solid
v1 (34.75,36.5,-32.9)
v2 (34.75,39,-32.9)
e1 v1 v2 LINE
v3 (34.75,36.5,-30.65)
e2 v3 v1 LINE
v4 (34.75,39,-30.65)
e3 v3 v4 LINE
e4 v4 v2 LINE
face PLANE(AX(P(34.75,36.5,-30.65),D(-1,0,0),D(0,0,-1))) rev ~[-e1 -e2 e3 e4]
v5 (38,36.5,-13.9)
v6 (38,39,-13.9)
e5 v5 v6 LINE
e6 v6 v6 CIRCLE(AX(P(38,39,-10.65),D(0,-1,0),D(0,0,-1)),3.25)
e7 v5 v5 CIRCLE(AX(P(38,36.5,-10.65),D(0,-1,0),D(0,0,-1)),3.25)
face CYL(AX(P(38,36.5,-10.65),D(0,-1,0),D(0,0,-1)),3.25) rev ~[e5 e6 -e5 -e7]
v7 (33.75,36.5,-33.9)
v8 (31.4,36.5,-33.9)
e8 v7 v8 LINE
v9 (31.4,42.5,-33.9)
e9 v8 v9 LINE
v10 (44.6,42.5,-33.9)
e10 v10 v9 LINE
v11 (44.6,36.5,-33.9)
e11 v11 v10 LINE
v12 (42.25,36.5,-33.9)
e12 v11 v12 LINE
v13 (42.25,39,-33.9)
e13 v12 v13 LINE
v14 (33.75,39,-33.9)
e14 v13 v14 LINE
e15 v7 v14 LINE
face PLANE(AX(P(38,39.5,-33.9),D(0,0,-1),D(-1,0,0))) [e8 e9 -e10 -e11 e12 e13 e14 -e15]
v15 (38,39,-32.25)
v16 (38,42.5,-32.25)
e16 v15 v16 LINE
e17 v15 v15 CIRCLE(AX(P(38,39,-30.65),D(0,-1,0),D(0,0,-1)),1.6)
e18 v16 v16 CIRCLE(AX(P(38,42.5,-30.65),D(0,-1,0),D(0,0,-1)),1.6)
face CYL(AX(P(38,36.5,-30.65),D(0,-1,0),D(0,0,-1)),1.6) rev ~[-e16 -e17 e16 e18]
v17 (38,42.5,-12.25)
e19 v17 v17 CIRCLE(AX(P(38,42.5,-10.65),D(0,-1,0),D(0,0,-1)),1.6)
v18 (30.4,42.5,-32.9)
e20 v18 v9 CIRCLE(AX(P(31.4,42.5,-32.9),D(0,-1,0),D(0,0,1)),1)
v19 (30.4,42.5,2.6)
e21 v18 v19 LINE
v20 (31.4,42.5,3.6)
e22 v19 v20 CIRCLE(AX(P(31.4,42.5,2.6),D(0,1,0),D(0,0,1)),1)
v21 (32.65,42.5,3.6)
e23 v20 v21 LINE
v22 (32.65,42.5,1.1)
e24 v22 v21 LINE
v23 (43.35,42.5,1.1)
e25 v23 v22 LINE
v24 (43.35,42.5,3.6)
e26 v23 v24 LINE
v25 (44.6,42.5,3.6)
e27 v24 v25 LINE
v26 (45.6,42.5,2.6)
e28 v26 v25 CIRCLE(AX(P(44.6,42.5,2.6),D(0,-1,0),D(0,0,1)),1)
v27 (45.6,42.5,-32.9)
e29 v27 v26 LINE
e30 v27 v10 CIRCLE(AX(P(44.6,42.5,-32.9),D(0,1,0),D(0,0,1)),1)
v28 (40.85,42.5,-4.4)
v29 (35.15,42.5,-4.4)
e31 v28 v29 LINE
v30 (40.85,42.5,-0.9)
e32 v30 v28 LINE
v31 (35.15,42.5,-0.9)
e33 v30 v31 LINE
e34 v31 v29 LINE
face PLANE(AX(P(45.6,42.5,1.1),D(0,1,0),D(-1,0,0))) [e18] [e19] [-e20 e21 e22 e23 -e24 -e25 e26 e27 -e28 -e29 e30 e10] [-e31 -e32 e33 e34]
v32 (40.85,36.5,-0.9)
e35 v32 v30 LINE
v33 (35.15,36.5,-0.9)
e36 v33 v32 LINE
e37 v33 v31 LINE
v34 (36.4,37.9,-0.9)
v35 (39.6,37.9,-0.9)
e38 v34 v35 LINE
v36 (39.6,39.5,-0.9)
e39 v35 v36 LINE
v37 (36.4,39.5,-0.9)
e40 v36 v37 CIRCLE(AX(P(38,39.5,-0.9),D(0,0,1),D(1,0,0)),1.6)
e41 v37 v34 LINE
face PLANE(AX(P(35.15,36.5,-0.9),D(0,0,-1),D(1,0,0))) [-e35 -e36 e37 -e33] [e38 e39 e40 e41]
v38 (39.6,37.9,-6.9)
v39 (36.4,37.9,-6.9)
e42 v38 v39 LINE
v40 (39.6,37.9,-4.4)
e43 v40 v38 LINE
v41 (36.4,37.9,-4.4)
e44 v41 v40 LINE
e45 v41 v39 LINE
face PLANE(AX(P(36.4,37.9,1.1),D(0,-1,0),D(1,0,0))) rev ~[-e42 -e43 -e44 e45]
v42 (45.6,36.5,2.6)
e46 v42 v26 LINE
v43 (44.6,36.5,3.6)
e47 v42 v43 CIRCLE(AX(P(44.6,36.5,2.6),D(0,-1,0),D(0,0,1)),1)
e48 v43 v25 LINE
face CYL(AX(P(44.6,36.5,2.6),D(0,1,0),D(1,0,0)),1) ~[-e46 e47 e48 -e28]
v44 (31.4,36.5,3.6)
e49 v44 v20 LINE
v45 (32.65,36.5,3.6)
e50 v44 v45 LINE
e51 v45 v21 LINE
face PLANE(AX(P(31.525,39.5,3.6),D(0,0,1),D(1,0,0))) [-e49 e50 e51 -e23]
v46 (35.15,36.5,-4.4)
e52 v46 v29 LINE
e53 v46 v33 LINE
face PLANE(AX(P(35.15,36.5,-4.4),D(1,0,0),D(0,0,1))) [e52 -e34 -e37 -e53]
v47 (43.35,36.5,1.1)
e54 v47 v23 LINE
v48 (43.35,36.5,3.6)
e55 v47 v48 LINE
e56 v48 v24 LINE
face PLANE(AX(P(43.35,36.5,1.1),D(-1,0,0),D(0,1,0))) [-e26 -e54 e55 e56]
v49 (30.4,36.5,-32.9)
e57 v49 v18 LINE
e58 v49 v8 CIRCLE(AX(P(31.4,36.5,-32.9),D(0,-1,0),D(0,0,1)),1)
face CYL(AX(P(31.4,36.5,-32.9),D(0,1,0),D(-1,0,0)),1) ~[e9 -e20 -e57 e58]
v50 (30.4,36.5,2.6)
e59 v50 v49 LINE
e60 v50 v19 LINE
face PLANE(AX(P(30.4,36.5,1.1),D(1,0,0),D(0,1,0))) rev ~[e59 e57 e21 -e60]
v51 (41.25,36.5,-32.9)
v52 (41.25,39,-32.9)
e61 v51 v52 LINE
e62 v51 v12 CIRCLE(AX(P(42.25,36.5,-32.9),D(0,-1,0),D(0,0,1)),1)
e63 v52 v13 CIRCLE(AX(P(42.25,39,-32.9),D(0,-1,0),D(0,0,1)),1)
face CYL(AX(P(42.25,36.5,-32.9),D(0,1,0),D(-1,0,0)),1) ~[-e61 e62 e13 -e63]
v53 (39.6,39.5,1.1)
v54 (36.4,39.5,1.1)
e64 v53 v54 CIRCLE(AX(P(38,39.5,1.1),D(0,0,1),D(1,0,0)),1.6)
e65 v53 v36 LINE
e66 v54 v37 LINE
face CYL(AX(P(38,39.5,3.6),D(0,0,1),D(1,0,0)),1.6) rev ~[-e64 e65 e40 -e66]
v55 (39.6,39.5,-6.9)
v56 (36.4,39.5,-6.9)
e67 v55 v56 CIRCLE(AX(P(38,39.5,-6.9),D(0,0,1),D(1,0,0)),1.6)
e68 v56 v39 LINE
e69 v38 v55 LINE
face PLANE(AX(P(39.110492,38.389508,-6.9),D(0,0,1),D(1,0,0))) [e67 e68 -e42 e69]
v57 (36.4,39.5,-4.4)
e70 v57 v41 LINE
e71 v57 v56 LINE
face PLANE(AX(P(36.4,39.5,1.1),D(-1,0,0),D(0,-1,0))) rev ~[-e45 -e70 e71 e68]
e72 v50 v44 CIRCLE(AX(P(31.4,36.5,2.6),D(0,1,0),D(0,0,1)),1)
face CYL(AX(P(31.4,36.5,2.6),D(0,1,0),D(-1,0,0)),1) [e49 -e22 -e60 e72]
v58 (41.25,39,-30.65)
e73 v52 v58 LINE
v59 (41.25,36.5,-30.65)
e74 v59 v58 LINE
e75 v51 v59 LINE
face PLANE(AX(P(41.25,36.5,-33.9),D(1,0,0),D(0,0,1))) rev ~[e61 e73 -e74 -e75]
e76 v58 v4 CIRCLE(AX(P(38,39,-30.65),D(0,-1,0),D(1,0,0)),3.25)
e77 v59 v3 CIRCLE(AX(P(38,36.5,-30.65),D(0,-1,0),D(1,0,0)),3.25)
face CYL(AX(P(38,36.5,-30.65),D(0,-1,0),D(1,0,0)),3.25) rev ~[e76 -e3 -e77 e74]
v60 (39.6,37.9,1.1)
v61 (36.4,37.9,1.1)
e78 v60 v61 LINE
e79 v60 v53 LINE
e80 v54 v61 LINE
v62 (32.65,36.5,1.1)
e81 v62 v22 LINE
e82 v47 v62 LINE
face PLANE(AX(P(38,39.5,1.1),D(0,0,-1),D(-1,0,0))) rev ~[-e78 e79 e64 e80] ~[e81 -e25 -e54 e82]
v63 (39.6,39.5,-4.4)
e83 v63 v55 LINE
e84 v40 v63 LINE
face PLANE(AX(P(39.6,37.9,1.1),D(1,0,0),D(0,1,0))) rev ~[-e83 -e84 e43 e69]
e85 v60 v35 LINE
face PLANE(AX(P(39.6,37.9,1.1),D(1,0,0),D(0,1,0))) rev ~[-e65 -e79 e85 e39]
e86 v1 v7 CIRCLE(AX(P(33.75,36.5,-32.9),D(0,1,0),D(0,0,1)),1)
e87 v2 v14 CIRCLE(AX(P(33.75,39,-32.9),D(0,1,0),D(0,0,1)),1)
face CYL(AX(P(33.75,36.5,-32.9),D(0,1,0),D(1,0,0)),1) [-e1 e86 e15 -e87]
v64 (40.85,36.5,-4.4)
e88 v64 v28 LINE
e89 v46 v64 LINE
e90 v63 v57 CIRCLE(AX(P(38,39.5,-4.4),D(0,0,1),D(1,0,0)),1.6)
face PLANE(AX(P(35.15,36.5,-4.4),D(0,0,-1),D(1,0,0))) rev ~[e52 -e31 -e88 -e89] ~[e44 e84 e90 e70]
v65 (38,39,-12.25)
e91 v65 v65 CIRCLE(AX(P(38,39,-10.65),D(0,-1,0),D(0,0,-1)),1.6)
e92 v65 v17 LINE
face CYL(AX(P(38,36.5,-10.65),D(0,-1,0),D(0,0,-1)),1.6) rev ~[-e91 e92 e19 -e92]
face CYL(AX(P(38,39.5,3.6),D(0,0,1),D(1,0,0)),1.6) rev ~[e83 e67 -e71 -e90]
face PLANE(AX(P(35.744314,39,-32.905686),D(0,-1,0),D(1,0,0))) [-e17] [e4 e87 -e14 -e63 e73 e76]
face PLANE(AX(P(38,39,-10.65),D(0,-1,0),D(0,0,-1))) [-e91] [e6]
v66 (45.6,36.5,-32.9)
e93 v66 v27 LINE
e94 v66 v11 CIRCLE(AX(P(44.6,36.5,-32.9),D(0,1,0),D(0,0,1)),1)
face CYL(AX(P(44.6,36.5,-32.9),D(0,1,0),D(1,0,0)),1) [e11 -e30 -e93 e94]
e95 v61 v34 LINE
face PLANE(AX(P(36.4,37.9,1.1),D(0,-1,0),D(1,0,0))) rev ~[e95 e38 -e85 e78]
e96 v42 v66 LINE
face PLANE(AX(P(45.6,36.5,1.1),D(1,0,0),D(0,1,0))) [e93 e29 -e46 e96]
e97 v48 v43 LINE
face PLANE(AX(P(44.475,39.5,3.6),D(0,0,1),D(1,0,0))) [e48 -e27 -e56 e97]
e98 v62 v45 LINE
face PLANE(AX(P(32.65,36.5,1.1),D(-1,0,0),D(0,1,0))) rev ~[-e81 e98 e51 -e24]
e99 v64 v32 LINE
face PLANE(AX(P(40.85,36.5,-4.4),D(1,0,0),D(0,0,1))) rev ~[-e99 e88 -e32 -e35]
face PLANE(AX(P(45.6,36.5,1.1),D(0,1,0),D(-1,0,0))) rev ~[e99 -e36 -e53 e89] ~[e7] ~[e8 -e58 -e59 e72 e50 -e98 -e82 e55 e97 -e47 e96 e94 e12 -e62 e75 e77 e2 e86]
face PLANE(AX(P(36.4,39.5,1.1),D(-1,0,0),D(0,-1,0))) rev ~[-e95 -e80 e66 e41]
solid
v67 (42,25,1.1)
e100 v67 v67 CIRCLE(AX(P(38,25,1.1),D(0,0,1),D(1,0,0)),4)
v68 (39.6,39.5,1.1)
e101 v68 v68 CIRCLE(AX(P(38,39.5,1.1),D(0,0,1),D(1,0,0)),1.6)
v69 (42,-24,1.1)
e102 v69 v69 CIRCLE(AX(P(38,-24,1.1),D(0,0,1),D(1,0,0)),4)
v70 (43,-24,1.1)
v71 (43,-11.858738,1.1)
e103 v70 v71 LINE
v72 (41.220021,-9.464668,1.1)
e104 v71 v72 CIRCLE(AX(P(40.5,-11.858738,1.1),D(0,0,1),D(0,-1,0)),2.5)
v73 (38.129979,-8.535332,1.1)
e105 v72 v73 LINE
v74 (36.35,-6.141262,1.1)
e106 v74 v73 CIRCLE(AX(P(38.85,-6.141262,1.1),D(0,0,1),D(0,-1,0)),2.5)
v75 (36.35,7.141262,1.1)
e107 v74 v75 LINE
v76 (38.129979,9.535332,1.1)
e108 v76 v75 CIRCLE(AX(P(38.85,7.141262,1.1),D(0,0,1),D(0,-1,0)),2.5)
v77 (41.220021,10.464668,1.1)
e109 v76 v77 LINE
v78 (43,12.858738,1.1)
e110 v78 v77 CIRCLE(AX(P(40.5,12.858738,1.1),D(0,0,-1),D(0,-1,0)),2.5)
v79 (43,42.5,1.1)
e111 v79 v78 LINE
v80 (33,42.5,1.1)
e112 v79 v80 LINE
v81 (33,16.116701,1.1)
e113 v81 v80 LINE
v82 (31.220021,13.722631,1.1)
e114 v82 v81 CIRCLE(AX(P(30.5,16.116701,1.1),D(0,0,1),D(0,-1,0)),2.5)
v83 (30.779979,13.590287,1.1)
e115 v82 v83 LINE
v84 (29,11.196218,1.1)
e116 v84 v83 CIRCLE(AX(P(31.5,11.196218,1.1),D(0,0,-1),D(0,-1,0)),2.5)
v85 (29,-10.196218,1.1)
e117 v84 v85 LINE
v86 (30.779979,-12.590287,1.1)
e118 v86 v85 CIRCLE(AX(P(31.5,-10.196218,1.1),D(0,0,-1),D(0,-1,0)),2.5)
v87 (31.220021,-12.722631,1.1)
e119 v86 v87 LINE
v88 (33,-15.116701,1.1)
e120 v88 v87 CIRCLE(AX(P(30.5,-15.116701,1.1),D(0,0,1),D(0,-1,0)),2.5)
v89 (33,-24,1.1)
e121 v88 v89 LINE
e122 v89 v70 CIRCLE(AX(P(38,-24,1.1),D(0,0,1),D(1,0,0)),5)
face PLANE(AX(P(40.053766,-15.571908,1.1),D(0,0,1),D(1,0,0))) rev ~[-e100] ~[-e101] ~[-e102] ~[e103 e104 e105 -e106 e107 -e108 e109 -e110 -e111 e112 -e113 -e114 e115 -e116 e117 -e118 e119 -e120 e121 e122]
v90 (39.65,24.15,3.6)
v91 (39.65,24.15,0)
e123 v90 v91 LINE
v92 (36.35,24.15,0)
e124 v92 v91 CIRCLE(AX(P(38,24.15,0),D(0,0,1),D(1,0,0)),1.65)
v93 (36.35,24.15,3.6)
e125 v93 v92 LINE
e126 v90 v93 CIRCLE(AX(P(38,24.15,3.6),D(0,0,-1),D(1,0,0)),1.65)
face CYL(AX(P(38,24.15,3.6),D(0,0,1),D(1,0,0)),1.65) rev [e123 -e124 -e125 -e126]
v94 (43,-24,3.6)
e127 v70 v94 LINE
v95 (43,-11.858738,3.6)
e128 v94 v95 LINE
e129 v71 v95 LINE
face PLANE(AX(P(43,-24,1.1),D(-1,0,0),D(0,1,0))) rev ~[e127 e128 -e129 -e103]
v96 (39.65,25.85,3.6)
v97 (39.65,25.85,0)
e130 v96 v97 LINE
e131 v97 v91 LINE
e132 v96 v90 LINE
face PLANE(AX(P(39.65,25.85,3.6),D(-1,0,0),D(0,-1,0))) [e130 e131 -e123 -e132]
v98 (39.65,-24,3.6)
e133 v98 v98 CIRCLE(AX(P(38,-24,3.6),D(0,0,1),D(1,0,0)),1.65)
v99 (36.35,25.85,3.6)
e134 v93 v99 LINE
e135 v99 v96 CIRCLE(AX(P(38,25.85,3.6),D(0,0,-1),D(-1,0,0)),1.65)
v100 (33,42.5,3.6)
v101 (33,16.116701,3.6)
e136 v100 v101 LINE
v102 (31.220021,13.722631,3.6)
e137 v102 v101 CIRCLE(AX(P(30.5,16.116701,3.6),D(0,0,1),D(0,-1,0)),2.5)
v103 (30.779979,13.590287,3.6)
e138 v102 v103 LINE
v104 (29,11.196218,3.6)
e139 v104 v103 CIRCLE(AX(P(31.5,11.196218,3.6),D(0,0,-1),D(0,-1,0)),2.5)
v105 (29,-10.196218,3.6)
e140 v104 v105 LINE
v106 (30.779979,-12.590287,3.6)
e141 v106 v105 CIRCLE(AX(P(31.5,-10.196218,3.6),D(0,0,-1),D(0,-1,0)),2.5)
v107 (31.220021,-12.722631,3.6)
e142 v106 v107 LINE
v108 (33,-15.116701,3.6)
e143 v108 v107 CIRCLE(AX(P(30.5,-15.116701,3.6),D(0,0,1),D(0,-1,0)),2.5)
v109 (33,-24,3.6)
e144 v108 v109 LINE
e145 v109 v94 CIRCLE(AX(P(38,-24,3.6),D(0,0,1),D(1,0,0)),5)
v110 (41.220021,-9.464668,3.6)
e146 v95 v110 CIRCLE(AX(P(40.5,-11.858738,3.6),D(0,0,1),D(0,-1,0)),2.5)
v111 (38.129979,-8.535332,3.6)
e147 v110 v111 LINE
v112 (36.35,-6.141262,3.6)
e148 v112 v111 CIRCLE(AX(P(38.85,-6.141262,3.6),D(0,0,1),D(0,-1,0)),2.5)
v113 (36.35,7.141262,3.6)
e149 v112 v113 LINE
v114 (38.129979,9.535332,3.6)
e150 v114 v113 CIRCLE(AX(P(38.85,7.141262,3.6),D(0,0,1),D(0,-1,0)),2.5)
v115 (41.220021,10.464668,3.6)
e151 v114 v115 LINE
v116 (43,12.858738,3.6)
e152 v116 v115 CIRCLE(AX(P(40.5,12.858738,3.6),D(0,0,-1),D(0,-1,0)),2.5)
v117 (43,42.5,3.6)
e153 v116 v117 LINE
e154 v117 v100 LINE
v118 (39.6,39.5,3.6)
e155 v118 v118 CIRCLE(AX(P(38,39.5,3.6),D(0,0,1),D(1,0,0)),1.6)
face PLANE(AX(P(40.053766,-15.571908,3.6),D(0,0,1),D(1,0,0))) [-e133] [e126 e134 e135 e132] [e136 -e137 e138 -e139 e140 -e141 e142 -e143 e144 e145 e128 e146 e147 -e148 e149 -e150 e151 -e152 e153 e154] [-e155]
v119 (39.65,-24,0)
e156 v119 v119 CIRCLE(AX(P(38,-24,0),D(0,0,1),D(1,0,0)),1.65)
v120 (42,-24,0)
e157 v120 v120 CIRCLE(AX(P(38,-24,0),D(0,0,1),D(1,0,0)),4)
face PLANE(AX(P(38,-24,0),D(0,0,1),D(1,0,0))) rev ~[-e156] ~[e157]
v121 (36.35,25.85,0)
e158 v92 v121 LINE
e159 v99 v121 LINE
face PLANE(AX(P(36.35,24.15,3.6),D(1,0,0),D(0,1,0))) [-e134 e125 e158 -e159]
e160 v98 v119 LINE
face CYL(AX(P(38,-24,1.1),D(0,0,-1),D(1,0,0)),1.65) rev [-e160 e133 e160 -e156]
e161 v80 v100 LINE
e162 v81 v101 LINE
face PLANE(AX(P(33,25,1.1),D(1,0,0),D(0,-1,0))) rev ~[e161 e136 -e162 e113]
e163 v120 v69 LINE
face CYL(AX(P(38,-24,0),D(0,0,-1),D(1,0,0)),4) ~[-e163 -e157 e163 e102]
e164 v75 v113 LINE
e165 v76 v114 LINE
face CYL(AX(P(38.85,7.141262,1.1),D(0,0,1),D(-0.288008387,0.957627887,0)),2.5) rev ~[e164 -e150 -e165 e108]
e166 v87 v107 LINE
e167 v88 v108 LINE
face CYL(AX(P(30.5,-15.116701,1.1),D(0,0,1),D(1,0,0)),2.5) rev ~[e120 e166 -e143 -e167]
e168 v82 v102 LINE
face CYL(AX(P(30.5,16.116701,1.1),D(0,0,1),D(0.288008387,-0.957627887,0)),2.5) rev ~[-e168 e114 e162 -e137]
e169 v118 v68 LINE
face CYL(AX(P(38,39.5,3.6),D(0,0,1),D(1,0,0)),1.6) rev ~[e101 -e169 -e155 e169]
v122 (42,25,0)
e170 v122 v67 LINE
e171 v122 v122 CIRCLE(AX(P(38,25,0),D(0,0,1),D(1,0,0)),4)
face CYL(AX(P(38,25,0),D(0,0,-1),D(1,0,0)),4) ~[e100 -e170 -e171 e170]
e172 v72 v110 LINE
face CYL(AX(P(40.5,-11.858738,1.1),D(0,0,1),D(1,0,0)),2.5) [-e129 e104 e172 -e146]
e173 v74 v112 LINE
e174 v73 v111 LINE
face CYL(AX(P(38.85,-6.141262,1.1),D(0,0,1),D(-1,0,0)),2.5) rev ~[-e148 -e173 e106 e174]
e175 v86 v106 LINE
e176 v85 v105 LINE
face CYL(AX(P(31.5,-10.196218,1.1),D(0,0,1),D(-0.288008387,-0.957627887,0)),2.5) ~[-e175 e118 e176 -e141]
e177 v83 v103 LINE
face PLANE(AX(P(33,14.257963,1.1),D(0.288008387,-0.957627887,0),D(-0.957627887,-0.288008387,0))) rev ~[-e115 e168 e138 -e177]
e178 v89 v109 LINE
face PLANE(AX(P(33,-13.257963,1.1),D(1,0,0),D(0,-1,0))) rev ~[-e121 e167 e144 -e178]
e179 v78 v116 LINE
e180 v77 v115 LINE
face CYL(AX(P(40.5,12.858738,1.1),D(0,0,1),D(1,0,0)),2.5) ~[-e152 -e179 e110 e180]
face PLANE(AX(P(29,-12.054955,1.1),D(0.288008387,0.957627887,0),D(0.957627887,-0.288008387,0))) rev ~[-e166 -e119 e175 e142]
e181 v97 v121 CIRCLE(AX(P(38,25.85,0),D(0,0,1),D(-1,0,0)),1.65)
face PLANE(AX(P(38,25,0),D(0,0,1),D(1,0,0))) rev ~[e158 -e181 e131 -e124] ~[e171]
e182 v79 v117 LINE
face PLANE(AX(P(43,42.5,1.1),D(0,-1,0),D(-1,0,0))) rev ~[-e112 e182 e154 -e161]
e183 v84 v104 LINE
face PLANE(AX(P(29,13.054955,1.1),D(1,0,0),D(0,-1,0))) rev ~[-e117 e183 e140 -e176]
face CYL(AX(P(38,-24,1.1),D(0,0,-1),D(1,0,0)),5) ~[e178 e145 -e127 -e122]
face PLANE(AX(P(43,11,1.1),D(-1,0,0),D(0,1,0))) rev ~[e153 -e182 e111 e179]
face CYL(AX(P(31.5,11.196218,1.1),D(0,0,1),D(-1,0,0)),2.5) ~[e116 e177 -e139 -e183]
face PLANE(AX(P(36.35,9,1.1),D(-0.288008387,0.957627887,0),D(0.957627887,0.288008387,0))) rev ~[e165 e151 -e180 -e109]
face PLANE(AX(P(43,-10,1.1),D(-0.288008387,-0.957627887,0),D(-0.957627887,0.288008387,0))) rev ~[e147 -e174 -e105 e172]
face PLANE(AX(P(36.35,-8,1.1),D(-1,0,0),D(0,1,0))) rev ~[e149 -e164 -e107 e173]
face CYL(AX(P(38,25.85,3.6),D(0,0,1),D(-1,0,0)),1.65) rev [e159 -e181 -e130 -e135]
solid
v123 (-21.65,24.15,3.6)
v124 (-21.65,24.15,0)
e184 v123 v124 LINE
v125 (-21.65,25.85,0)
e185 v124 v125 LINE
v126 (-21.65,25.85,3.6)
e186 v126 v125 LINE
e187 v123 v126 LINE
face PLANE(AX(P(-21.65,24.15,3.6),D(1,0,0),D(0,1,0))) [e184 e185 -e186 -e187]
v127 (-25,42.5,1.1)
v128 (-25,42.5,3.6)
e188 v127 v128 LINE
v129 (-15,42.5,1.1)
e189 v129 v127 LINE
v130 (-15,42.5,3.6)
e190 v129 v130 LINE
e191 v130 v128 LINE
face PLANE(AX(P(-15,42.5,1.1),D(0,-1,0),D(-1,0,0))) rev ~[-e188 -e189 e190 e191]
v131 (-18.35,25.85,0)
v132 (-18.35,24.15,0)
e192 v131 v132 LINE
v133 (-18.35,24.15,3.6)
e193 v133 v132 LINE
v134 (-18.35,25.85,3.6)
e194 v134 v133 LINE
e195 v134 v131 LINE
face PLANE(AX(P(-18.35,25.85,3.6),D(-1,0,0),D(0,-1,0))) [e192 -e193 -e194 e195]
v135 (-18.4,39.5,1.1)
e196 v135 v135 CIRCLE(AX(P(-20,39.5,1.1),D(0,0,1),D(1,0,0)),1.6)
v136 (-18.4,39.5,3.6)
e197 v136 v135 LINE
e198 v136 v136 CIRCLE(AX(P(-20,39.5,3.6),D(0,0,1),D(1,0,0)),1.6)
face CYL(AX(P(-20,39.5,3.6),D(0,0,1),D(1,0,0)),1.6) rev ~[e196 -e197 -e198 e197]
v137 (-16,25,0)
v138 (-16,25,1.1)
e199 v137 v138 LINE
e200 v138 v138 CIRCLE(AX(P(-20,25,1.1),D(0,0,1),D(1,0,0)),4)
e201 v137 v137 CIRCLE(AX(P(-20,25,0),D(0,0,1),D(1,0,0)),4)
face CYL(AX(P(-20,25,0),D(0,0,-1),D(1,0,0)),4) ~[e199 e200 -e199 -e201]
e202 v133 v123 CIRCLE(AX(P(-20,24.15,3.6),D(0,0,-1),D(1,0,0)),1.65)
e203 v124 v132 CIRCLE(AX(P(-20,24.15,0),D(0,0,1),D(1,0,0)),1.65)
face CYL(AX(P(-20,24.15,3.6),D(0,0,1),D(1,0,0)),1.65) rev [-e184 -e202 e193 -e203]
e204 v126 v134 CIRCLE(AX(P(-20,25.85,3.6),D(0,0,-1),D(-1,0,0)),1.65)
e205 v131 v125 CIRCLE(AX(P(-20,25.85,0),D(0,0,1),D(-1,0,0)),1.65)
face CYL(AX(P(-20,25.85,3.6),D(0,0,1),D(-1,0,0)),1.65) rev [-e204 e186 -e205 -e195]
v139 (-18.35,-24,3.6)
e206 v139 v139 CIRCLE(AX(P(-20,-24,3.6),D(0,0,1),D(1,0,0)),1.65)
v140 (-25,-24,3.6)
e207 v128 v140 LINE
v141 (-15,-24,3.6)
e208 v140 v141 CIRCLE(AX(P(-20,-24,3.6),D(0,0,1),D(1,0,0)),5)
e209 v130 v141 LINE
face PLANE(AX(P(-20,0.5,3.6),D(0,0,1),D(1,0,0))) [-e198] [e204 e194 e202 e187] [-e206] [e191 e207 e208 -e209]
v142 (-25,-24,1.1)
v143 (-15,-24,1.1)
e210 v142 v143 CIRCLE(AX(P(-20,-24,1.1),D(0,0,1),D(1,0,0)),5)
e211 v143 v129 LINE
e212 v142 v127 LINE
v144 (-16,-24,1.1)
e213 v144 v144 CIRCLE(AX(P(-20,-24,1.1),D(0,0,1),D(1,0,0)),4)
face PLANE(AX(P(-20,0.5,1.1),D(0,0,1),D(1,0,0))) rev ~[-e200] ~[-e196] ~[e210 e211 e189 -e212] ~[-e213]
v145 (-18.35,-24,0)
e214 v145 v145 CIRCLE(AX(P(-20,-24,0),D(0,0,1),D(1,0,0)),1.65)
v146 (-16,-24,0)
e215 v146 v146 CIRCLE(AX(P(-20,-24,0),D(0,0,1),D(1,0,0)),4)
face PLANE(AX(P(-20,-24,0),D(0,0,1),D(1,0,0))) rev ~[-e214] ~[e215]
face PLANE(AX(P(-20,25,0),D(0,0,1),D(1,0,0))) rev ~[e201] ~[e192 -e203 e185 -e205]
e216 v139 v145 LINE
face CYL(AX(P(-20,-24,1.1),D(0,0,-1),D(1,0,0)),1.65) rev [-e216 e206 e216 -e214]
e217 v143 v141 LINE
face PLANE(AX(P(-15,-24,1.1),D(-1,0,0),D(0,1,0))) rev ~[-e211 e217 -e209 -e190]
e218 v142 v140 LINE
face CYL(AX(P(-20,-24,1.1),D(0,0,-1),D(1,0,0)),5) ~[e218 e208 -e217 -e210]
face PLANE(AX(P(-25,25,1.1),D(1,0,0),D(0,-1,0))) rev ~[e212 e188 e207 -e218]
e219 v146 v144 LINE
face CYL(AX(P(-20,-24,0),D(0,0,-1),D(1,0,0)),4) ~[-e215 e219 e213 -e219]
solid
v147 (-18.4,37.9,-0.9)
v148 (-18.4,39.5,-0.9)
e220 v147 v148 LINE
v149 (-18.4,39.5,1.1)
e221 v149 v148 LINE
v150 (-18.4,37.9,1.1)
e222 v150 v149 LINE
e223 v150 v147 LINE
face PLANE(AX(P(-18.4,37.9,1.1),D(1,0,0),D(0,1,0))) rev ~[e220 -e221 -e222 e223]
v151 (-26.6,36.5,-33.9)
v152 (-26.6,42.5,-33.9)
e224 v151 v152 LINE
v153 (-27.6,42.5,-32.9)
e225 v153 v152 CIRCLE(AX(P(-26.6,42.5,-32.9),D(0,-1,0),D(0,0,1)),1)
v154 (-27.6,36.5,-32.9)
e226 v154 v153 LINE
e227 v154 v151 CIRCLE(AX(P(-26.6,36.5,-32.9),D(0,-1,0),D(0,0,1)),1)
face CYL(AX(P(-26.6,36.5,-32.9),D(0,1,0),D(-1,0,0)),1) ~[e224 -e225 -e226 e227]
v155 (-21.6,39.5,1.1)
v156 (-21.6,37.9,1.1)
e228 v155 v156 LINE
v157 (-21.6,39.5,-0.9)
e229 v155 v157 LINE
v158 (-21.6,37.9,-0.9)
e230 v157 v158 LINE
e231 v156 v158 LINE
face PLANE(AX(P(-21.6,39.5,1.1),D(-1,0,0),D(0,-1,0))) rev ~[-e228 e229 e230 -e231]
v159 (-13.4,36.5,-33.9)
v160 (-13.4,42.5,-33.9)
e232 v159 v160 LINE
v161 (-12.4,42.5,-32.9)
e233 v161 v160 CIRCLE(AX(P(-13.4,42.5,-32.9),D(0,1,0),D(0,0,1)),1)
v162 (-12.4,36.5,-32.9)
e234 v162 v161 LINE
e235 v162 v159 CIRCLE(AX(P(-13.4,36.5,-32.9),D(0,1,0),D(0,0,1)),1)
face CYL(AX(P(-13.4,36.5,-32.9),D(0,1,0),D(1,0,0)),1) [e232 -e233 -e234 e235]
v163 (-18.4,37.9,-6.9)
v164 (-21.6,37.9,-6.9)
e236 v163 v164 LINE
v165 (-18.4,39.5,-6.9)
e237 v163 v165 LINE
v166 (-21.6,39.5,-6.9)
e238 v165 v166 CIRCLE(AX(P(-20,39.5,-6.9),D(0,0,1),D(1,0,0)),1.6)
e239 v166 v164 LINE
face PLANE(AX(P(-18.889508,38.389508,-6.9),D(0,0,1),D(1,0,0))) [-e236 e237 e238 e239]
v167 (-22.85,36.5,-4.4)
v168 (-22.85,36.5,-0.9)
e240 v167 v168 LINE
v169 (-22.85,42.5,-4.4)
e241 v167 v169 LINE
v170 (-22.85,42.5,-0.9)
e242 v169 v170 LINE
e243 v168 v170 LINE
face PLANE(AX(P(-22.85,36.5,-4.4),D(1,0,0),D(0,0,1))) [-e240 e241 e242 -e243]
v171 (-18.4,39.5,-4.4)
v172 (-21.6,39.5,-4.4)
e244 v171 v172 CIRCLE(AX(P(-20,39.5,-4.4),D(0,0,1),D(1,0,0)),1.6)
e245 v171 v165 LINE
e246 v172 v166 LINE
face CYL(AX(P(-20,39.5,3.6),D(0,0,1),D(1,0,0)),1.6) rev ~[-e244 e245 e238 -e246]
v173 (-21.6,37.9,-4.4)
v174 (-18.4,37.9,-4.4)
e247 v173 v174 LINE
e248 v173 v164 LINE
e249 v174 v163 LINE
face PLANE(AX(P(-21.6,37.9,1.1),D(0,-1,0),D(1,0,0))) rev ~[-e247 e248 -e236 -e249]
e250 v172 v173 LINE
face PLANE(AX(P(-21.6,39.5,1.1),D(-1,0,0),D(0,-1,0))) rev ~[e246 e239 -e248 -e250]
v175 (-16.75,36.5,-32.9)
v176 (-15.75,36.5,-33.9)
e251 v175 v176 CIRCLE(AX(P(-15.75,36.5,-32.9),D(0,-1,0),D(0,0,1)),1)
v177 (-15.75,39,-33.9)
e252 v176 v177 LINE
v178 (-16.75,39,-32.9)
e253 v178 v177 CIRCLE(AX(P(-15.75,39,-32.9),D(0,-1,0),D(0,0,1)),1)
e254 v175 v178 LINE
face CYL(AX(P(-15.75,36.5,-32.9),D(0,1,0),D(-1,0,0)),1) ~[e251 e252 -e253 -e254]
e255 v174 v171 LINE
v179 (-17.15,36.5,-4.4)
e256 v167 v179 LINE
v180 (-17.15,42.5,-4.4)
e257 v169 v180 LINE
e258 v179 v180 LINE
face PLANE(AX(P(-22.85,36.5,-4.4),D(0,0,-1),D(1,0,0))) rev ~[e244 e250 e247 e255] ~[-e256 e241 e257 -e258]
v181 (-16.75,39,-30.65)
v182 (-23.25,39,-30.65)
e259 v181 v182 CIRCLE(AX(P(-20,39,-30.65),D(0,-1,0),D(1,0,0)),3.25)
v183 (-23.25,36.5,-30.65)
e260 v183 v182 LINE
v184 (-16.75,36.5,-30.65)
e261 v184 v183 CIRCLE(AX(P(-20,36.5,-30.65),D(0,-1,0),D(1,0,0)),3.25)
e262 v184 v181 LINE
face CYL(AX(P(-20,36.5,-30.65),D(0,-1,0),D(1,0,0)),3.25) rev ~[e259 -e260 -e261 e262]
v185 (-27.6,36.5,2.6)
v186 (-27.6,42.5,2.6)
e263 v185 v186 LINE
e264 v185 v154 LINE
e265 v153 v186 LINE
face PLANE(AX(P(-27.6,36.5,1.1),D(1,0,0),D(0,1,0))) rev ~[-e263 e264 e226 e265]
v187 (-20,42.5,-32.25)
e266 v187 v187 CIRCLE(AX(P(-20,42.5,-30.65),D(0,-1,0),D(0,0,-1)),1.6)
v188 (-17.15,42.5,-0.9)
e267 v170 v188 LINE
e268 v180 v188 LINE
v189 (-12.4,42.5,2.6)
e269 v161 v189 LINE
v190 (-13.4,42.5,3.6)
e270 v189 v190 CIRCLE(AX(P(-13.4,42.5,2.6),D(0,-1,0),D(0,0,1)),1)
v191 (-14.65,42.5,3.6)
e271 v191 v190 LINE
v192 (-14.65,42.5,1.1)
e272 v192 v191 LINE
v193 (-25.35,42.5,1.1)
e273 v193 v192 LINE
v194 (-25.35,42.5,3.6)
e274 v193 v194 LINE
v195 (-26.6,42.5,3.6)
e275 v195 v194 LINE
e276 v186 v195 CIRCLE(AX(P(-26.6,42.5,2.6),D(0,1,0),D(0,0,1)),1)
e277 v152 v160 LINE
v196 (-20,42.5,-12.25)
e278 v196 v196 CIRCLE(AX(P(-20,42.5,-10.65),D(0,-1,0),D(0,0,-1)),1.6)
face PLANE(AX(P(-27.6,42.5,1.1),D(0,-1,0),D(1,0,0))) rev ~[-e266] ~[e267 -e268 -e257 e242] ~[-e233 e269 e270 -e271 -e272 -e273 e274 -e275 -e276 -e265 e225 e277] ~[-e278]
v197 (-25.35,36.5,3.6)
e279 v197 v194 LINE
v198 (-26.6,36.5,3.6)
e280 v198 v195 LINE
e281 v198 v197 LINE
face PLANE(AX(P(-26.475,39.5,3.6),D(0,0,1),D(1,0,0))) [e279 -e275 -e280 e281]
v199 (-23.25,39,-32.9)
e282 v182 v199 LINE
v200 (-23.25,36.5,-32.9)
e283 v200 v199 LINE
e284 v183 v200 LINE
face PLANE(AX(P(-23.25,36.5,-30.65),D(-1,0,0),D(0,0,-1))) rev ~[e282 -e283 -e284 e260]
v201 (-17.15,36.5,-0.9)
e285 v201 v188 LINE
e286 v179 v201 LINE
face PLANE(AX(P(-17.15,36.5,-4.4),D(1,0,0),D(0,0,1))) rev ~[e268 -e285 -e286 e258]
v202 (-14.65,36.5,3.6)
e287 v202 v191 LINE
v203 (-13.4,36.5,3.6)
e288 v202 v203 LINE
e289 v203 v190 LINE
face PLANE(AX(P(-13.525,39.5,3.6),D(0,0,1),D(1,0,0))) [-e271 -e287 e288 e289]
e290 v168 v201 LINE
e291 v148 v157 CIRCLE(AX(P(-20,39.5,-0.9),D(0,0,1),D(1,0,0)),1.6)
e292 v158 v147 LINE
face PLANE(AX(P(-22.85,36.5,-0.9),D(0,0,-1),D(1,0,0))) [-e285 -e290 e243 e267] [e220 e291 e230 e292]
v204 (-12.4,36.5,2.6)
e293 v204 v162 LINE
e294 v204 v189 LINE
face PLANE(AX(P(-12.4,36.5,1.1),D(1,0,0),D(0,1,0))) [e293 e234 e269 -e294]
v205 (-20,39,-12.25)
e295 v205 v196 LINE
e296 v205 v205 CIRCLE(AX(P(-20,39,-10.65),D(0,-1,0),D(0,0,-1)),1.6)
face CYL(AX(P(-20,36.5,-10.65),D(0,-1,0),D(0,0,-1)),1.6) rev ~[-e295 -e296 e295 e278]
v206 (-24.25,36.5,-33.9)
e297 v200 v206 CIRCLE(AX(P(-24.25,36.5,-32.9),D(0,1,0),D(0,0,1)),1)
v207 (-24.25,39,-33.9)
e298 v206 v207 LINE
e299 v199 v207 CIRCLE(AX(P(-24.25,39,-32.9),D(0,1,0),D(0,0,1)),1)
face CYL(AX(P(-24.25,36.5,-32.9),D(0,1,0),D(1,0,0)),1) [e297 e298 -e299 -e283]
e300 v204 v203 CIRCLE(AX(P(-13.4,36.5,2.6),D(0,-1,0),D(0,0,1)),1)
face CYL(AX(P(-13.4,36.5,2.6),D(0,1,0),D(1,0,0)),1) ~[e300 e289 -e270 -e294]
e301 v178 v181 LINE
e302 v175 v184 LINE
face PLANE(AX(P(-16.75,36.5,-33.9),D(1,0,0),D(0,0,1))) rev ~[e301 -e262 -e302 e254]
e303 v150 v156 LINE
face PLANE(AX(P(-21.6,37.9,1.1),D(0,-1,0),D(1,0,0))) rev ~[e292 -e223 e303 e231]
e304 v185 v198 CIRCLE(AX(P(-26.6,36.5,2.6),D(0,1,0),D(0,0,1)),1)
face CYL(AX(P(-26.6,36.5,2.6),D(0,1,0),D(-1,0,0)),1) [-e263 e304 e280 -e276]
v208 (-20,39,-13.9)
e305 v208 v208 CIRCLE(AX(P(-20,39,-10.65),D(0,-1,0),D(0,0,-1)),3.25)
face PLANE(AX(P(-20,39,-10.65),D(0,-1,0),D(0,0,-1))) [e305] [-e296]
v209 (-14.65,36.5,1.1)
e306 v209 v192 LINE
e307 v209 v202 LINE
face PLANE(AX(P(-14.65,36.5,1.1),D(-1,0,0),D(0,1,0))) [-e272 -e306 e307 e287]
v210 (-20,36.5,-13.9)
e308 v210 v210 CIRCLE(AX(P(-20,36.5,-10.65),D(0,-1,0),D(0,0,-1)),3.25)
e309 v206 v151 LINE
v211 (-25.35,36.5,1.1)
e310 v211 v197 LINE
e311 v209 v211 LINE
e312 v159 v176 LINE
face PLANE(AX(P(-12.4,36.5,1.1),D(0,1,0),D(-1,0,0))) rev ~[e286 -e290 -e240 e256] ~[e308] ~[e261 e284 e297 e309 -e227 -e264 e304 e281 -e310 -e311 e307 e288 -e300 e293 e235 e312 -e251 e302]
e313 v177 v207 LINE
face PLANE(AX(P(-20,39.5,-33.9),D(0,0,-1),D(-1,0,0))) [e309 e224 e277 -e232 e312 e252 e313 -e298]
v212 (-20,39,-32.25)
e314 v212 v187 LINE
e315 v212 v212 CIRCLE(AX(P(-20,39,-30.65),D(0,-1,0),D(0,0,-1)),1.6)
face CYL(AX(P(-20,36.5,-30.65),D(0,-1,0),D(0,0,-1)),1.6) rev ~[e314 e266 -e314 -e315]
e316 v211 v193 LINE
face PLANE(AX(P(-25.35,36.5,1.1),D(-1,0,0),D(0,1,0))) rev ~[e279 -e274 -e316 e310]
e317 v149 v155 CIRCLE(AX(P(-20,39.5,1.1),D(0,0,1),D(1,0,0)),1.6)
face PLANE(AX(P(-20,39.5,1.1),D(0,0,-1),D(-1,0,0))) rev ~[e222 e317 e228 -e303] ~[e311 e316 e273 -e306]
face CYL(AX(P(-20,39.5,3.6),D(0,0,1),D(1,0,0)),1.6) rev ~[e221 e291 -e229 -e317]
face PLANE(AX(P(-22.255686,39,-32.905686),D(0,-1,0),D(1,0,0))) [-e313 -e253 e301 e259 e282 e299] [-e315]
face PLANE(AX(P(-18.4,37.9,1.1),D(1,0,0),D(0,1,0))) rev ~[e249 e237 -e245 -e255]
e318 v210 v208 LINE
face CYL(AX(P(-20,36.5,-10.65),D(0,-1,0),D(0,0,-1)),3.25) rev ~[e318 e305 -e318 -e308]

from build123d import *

# Parameters (mm, degrees)
SKETCH2_R             = 4
SKETCH2_R_2           = 1.65
BOSS_EXTRUDE1_DEPTH   = 1.1
BOSS_EXTRUDE1_2_DEPTH = 1.1
BOSS_EXTRUDE1_3_DEPTH = 1.1
BOSS_EXTRUDE1_4_DEPTH = 1.1
SKETCH3_R             = 5
SKETCH3_R_2           = 1.65
BOSS_EXTRUDE2_DEPTH   = 2.5
BOSS_EXTRUDE3_START   = -2.5
BOSS_EXTRUDE3_DEPTH   = 2.5
FILLET1_R             = 2.5
SKETCH6_W             = 15.2
SKETCH6_H             = 6
SKETCH6_W_2           = 10
SKETCH6_W_3           = 2.6
BOSS_EXTRUDE4_DEPTH   = 35
CUT_EXTRUDE1_DEPTH    = 73.745171661
SKETCH8_R             = 1.6
CUT_EXTRUDE2_DEPTH    = 10.5
SKETCH9_W             = 2.25
SKETCH9_H             = 6
BOSS_EXTRUDE5_DEPTH   = 2.5
BOSS_EXTRUDE5_2_DEPTH = 2.5
BOSS_EXTRUDE5_3_DEPTH = 2.5
BOSS_EXTRUDE5_4_DEPTH = 2.5
SKETCH10_R            = 1.6
CUT_EXTRUDE4_DEPTH    = 8
SKETCH11_W            = 5.7
SKETCH11_H            = 3.5
SKETCH11_R            = 1.6
CUT_EXTRUDE5_DEPTH    = 87.71112962
SKETCH11_3_R          = 3.25
SKETCH11_3_R_2        = 1.6
CUT_EXTRUDE6_DEPTH    = 2.5
FILLET2_R             = 1
FILLET3_R             = 1


with BuildPart() as part:
    # Sketch2 → Boss-Extrude1 (new body)
    with BuildSketch(Plane.XY):
        with Locations((-20, 25)):
            Circle(SKETCH2_R)
        with Locations((-20, 25)):
            Circle(SKETCH2_R_2, mode=Mode.SUBTRACT)
    extrude(amount=BOSS_EXTRUDE1_DEPTH)



with BuildPart() as body_2:
    # Sketch2 → Boss-Extrude1 2 (new body)
    with BuildSketch(Plane.XY):
        with Locations((38, 25)):
            Circle(SKETCH2_R)
        with Locations((38, 25)):
            Circle(SKETCH2_R_2, mode=Mode.SUBTRACT)
    extrude(amount=BOSS_EXTRUDE1_2_DEPTH)


with BuildPart() as body_3:
    # Sketch2 → Boss-Extrude1 3 (new body)
    with BuildSketch(Plane.XY):
        with Locations((38, -24)):
            Circle(SKETCH2_R)
        with Locations((38, -24)):
            Circle(SKETCH2_R_2, mode=Mode.SUBTRACT)
    extrude(amount=BOSS_EXTRUDE1_3_DEPTH)


with BuildPart() as body_4:
    # Sketch2 → Boss-Extrude1 4 (new body)
    with BuildSketch(Plane.XY):
        with Locations((-20, -24)):
            Circle(SKETCH2_R)
        with Locations((-20, -24)):
            Circle(SKETCH2_R_2, mode=Mode.SUBTRACT)
    extrude(amount=BOSS_EXTRUDE1_4_DEPTH)


with BuildPart() as part_1:
    add(part.part)

    add(body_2.part)  # Boss-Extrude2 merges body 2

    add(body_3.part)  # Boss-Extrude2 merges body 3

    add(body_4.part)  # Boss-Extrude2 merges body 4
    # Sketch3 → Boss-Extrude2 (add)
    # profile 1 of 4: a face of its own
    with BuildSketch(Plane.XY.offset(1.1)):
        with Locations((38, 25)):
            Circle(SKETCH3_R)
        with Locations((38, 25)):
            Circle(SKETCH3_R_2, mode=Mode.SUBTRACT)
    # profile 2 of 4: a face of its own
    with BuildSketch(Plane.XY.offset(1.1)):
        with Locations((38, -24)):
            Circle(SKETCH3_R)
        with Locations((38, -24)):
            Circle(SKETCH3_R_2, mode=Mode.SUBTRACT)
    # profile 3 of 4: a face of its own
    with BuildSketch(Plane.XY.offset(1.1)):
        with Locations((-20, -24)):
            Circle(SKETCH3_R)
        with Locations((-20, -24)):
            Circle(SKETCH3_R_2, mode=Mode.SUBTRACT)
    # profile 4 of 4: a face of its own
    with BuildSketch(Plane.XY.offset(1.1)):
        with Locations((-20, 25)):
            Circle(SKETCH3_R)
        with Locations((-20, 25)):
            Circle(SKETCH3_R_2, mode=Mode.SUBTRACT)
    extrude(amount=BOSS_EXTRUDE2_DEPTH)

    # Sketch5 → Boss-Extrude3 (add)
    with BuildSketch(Plane.XY.offset(3.6).offset(BOSS_EXTRUDE3_START)):
        with BuildLine():
            ThreePointArc((-25, -24), (-20, -19), (-15, -24))
            Line((-15, -24), (-15, 25))
            ThreePointArc((-15, 25), (-20, 20), (-25, 25))
            Line((-25, 25), (-25, -24))
        make_face()
        with BuildLine():
            ThreePointArc((-25, 25), (-20, 30), (-15, 25))
            Line((-15, 25), (-15, 42.5))
            Line((-15, 42.5), (-25, 42.5))
            Line((-25, 42.5), (-25, 25))
        make_face()
        with BuildLine():
            ThreePointArc((36.35, -19.28009534), (40.893959226, -19.922623392), (43, -24))
            Line((43, -24), (43, -10))
            Line((43, -10), (36.35, -8))
            Line((36.35, -8), (36.35, -19.28009534))
        make_face()
        with BuildLine():
            Line((33, -13.257962905), (33, -24))
            ThreePointArc((33, -24), (33.922623392, -21.106040774), (36.35, -19.28009534))
            Line((36.35, -19.28009534), (36.35, -8))
            Line((36.35, -8), (36.35, 9))
            Line((36.35, 9), (36.35, 20.28009534))
            ThreePointArc((36.35, 20.28009534), (33.922623392, 22.106040774), (33, 25))
            Line((33, 25), (33, 14.257962905))
            Line((33, 14.257962905), (33, -13.257962905))
        make_face()
        Polygon((29, -12.054955386), (33, -13.257962905), (33, 14.257962905), (29, 13.054955386), align=None)
        with BuildLine():
            Line((36.35, 9), (43, 11))
            Line((43, 11), (43, 25))
            ThreePointArc((43, 25), (40.893959226, 20.922623392), (36.35, 20.28009534))
            Line((36.35, 20.28009534), (36.35, 9))
        make_face()
        with BuildLine():
            ThreePointArc((33, 25), (38, 30), (43, 25))
            Line((43, 25), (43, 42.5))
            Line((43, 42.5), (33, 42.5))
            Line((33, 42.5), (33, 25))
        make_face()
    extrude(amount=BOSS_EXTRUDE3_DEPTH)

    # Fillet1
    fillet1_edges = [part_1.edges().sort_by_distance(p)[0] for p in [
        (43, -10, 2.35),
        (33, -13.257962905, 2.35),
        (29, -12.054955386, 2.35),
        (29, 13.054955386, 2.35),
        (33, 14.257962905, 2.35),
        (43, 11, 2.35),
        (36.35, 9, 2.35),
        (36.35, -8, 2.35),
    ]]
    fillet(fillet1_edges, radius=FILLET1_R)

    # Sketch7 → Cut-Extrude1 (cut, through all)
    with BuildSketch(Plane.XY.offset(3.6)):
        with BuildLine():
            Line((39.65, 25.85), (39.65, 24.15))
            ThreePointArc((39.65, 24.15), (38, 22.5), (36.35, 24.15))
            Line((36.35, 24.15), (36.35, 25.85))
            ThreePointArc((36.35, 25.85), (38, 27.5), (39.65, 25.85))
        make_face()
        with BuildLine():
            Line((-18.35, 25.85), (-18.35, 24.15))
            ThreePointArc((-18.35, 24.15), (-20, 22.5), (-21.65, 24.15))
            Line((-21.65, 24.15), (-21.65, 25.85))
            ThreePointArc((-21.65, 25.85), (-20, 27.5), (-18.35, 25.85))
        make_face()
    extrude(amount=-CUT_EXTRUDE1_DEPTH, mode=Mode.SUBTRACT)


with BuildPart() as body_2_2:
    # Sketch6 → Boss-Extrude4 (new body)
    with BuildSketch(Plane(origin=(0, 0, 1.1), x_dir=(-1, 0, 0), z_dir=(0, 0, -1))):
        with Locations((-38, 39.5)):
            Rectangle(SKETCH6_W, SKETCH6_H)
        with Locations((20, 39.5)):
            Rectangle(SKETCH6_W_2, SKETCH6_H)
        with Locations((13.7, 39.5)):
            Rectangle(SKETCH6_W_3, SKETCH6_H)
        with Locations((26.3, 39.5)):
            Rectangle(SKETCH6_W_3, SKETCH6_H)
    extrude(amount=BOSS_EXTRUDE4_DEPTH)


with BuildPart() as cut_extrude2_tool:
    # Sketch8 → Cut-Extrude2 (new body)
    with BuildSketch(Plane.XY.offset(3.6)):
        with Locations((-20, 39.5)):
            Circle(SKETCH8_R)
        with Locations((38, 39.5)):
            Circle(SKETCH8_R)
    extrude(amount=-CUT_EXTRUDE2_DEPTH)


with BuildPart() as part_2:
    add(part_1.part)

    # Cut-Extrude2: cut by cut_extrude2_tool
    add(cut_extrude2_tool.part, mode=Mode.SUBTRACT)


with BuildPart() as body_2_2_1:
    add(body_2_2.part)

    # Cut-Extrude2: cut by cut_extrude2_tool
    add(cut_extrude2_tool.part, mode=Mode.SUBTRACT)


with BuildPart() as body_3_2:
    # Sketch9 → Boss-Extrude5 (new body)
    with BuildSketch(Plane.XY.offset(1.1)):
        with Locations((44.475, 39.5)):
            Rectangle(SKETCH9_W, SKETCH9_H)
    extrude(amount=BOSS_EXTRUDE5_DEPTH)


with BuildPart() as body_4_2:
    # Sketch9 → Boss-Extrude5 2 (new body)
    with BuildSketch(Plane.XY.offset(1.1)):
        with Locations((31.525, 39.5)):
            Rectangle(SKETCH9_W, SKETCH9_H)
    extrude(amount=BOSS_EXTRUDE5_2_DEPTH)


with BuildPart() as body_5:
    # Sketch9 → Boss-Extrude5 3 (new body)
    with BuildSketch(Plane.XY.offset(1.1)):
        with Locations((-13.525, 39.5)):
            Rectangle(SKETCH9_W, SKETCH9_H)
    extrude(amount=BOSS_EXTRUDE5_3_DEPTH)


with BuildPart() as body_6:
    # Sketch9 → Boss-Extrude5 4 (new body)
    with BuildSketch(Plane.XY.offset(1.1)):
        with Locations((-26.475, 39.5)):
            Rectangle(SKETCH9_W, SKETCH9_H)
    extrude(amount=BOSS_EXTRUDE5_4_DEPTH)


with BuildPart() as body_5_1:
    add(body_5.part)

    # Combine1: union body 6, body 2 2
    add(body_6.part)
    add(body_2_2_1.part)


with BuildPart() as body_3_2_1:
    add(body_3_2.part)

    # Combine2: union body 4 2, body 5
    add(body_4_2.part)
    add(body_5_1.part)

    # Sketch10 → Cut-Extrude4 (cut)
    with BuildSketch(Plane.XY.offset(1.1)):
        with BuildLine():
            Line((39.6, 37.9), (39.6, 39.5))
            ThreePointArc((39.6, 39.5), (39.13137085, 38.36862915), (38, 37.9))
            Line((38, 37.9), (39.6, 37.9))
        make_face()
        with BuildLine():
            ThreePointArc((38, 37.9), (36.86862915, 38.36862915), (36.4, 39.5))
            Line((36.4, 39.5), (36.4, 37.9))
            Line((36.4, 37.9), (38, 37.9))
        make_face()
        with BuildLine():
            Line((-18.4, 37.9), (-18.4, 39.5))
            ThreePointArc((-18.4, 39.5), (-18.86862915, 38.36862915), (-20, 37.9))
            Line((-20, 37.9), (-18.4, 37.9))
        make_face()
        with BuildLine():
            ThreePointArc((-20, 37.9), (-21.13137085, 38.36862915), (-21.6, 39.5))
            Line((-21.6, 39.5), (-21.6, 37.9))
            Line((-21.6, 37.9), (-20, 37.9))
        make_face()
        with Locations((38, 39.5)):
            Circle(SKETCH10_R)
        with Locations((-20, 39.5)):
            Circle(SKETCH10_R)
    extrude(amount=-CUT_EXTRUDE4_DEPTH, mode=Mode.SUBTRACT)

    # Sketch11 → Cut-Extrude5 (cut, through all)
    with BuildSketch(Plane.XZ.offset(-36.5)):
        with Locations((38, -2.65)):
            Rectangle(SKETCH11_W, SKETCH11_H)
        with Locations(Location((38, -10.65, 0), (0, 0, 270))):
            Circle(SKETCH11_R)
        with Locations(Location((38, -30.65, 0), (0, 0, 270))):
            Circle(SKETCH11_R)
        with Locations((-20, -2.65)):
            Rectangle(SKETCH11_W, SKETCH11_H)
        with Locations(Location((-20, -10.65, 0), (0, 0, 270))):
            Circle(SKETCH11_R)
        with Locations(Location((-20, -30.65, 0), (0, 0, 270))):
            Circle(SKETCH11_R)
    extrude(amount=-CUT_EXTRUDE5_DEPTH, mode=Mode.SUBTRACT)

    # Sketch11<3> → Cut-Extrude6 (cut)
    # profile 1 of 8: a face of its own
    with BuildSketch(Plane.XZ.offset(-36.5)):
        with Locations(Location((-20, -10.65, 0), (0, 0, 270))):
            Circle(SKETCH11_3_R)
        with Locations(Location((-20, -10.65, 0), (0, 0, 270))):
            Circle(SKETCH11_3_R_2, mode=Mode.SUBTRACT)
    # profile 2 of 8: a face of its own
    with BuildSketch(Plane.XZ.offset(-36.5)):
        with Locations((-20, -30.65)):
            Circle(SKETCH11_3_R)
        with Locations(Location((-20, -30.65, 0), (0, 0, 270))):
            Circle(SKETCH11_3_R_2, mode=Mode.SUBTRACT)
    # profile 3 of 8: a face of its own
    with BuildSketch(Plane.XZ.offset(-36.5)):
        with BuildLine():
            ThreePointArc((-20, -33.9), (-22.298097039, -32.948097039), (-23.25, -30.65))
            Line((-23.25, -30.65), (-23.25, -33.9))
            Line((-23.25, -33.9), (-20, -33.9))
        make_face()
    # profile 4 of 8: a face of its own
    with BuildSketch(Plane.XZ.offset(-36.5)):
        with BuildLine():
            Line((-16.75, -33.9), (-16.75, -30.65))
            ThreePointArc((-16.75, -30.65), (-17.701902961, -32.948097039), (-20, -33.9))
            Line((-20, -33.9), (-16.75, -33.9))
        make_face()
    # profile 5 of 8: a face of its own
    with BuildSketch(Plane.XZ.offset(-36.5)):
        with Locations(Location((38, -10.65, 0), (0, 0, 270))):
            Circle(SKETCH11_3_R)
        with Locations(Location((38, -10.65, 0), (0, 0, 270))):
            Circle(SKETCH11_3_R_2, mode=Mode.SUBTRACT)
    # profile 6 of 8: a face of its own
    with BuildSketch(Plane.XZ.offset(-36.5)):
        with Locations((38, -30.65)):
            Circle(SKETCH11_3_R)
        with Locations(Location((38, -30.65, 0), (0, 0, 270))):
            Circle(SKETCH11_3_R_2, mode=Mode.SUBTRACT)
    # profile 7 of 8: a face of its own
    with BuildSketch(Plane.XZ.offset(-36.5)):
        with BuildLine():
            ThreePointArc((38, -33.9), (35.701902961, -32.948097039), (34.75, -30.65))
            Line((34.75, -30.65), (34.75, -33.9))
            Line((34.75, -33.9), (38, -33.9))
        make_face()
    # profile 8 of 8: a face of its own
    with BuildSketch(Plane.XZ.offset(-36.5)):
        with BuildLine():
            Line((41.25, -33.9), (41.25, -30.65))
            ThreePointArc((41.25, -30.65), (40.298097039, -32.948097039), (38, -33.9))
            Line((38, -33.9), (41.25, -33.9))
        make_face()
    extrude(amount=-CUT_EXTRUDE6_DEPTH, mode=Mode.SUBTRACT)

    # Fillet2
    fillet2_edges = [body_3_2_1.edges().sort_by_distance(p)[0] for p in [
        (-16.75, 37.75, -33.9),
        (-23.25, 37.75, -33.9),
        (-27.6, 39.5, -33.9),
        (-27.6, 39.5, 3.6),
        (-12.4, 39.5, -33.9),
        (-12.4, 39.5, 3.6),
    ]]
    fillet(fillet2_edges, radius=FILLET2_R)

    # Fillet3
    fillet3_edges = [body_3_2_1.edges().sort_by_distance(p)[0] for p in [
        (41.25, 37.75, -33.9),
        (34.75, 37.75, -33.9),
        (30.4, 39.5, -33.9),
        (30.4, 39.5, 3.6),
        (45.6, 39.5, -33.9),
        (45.6, 39.5, 3.6),
    ]]
    fillet(fillet3_edges, radius=FILLET3_R)


solid = Compound([part_2.part, body_3_2_1.part])
